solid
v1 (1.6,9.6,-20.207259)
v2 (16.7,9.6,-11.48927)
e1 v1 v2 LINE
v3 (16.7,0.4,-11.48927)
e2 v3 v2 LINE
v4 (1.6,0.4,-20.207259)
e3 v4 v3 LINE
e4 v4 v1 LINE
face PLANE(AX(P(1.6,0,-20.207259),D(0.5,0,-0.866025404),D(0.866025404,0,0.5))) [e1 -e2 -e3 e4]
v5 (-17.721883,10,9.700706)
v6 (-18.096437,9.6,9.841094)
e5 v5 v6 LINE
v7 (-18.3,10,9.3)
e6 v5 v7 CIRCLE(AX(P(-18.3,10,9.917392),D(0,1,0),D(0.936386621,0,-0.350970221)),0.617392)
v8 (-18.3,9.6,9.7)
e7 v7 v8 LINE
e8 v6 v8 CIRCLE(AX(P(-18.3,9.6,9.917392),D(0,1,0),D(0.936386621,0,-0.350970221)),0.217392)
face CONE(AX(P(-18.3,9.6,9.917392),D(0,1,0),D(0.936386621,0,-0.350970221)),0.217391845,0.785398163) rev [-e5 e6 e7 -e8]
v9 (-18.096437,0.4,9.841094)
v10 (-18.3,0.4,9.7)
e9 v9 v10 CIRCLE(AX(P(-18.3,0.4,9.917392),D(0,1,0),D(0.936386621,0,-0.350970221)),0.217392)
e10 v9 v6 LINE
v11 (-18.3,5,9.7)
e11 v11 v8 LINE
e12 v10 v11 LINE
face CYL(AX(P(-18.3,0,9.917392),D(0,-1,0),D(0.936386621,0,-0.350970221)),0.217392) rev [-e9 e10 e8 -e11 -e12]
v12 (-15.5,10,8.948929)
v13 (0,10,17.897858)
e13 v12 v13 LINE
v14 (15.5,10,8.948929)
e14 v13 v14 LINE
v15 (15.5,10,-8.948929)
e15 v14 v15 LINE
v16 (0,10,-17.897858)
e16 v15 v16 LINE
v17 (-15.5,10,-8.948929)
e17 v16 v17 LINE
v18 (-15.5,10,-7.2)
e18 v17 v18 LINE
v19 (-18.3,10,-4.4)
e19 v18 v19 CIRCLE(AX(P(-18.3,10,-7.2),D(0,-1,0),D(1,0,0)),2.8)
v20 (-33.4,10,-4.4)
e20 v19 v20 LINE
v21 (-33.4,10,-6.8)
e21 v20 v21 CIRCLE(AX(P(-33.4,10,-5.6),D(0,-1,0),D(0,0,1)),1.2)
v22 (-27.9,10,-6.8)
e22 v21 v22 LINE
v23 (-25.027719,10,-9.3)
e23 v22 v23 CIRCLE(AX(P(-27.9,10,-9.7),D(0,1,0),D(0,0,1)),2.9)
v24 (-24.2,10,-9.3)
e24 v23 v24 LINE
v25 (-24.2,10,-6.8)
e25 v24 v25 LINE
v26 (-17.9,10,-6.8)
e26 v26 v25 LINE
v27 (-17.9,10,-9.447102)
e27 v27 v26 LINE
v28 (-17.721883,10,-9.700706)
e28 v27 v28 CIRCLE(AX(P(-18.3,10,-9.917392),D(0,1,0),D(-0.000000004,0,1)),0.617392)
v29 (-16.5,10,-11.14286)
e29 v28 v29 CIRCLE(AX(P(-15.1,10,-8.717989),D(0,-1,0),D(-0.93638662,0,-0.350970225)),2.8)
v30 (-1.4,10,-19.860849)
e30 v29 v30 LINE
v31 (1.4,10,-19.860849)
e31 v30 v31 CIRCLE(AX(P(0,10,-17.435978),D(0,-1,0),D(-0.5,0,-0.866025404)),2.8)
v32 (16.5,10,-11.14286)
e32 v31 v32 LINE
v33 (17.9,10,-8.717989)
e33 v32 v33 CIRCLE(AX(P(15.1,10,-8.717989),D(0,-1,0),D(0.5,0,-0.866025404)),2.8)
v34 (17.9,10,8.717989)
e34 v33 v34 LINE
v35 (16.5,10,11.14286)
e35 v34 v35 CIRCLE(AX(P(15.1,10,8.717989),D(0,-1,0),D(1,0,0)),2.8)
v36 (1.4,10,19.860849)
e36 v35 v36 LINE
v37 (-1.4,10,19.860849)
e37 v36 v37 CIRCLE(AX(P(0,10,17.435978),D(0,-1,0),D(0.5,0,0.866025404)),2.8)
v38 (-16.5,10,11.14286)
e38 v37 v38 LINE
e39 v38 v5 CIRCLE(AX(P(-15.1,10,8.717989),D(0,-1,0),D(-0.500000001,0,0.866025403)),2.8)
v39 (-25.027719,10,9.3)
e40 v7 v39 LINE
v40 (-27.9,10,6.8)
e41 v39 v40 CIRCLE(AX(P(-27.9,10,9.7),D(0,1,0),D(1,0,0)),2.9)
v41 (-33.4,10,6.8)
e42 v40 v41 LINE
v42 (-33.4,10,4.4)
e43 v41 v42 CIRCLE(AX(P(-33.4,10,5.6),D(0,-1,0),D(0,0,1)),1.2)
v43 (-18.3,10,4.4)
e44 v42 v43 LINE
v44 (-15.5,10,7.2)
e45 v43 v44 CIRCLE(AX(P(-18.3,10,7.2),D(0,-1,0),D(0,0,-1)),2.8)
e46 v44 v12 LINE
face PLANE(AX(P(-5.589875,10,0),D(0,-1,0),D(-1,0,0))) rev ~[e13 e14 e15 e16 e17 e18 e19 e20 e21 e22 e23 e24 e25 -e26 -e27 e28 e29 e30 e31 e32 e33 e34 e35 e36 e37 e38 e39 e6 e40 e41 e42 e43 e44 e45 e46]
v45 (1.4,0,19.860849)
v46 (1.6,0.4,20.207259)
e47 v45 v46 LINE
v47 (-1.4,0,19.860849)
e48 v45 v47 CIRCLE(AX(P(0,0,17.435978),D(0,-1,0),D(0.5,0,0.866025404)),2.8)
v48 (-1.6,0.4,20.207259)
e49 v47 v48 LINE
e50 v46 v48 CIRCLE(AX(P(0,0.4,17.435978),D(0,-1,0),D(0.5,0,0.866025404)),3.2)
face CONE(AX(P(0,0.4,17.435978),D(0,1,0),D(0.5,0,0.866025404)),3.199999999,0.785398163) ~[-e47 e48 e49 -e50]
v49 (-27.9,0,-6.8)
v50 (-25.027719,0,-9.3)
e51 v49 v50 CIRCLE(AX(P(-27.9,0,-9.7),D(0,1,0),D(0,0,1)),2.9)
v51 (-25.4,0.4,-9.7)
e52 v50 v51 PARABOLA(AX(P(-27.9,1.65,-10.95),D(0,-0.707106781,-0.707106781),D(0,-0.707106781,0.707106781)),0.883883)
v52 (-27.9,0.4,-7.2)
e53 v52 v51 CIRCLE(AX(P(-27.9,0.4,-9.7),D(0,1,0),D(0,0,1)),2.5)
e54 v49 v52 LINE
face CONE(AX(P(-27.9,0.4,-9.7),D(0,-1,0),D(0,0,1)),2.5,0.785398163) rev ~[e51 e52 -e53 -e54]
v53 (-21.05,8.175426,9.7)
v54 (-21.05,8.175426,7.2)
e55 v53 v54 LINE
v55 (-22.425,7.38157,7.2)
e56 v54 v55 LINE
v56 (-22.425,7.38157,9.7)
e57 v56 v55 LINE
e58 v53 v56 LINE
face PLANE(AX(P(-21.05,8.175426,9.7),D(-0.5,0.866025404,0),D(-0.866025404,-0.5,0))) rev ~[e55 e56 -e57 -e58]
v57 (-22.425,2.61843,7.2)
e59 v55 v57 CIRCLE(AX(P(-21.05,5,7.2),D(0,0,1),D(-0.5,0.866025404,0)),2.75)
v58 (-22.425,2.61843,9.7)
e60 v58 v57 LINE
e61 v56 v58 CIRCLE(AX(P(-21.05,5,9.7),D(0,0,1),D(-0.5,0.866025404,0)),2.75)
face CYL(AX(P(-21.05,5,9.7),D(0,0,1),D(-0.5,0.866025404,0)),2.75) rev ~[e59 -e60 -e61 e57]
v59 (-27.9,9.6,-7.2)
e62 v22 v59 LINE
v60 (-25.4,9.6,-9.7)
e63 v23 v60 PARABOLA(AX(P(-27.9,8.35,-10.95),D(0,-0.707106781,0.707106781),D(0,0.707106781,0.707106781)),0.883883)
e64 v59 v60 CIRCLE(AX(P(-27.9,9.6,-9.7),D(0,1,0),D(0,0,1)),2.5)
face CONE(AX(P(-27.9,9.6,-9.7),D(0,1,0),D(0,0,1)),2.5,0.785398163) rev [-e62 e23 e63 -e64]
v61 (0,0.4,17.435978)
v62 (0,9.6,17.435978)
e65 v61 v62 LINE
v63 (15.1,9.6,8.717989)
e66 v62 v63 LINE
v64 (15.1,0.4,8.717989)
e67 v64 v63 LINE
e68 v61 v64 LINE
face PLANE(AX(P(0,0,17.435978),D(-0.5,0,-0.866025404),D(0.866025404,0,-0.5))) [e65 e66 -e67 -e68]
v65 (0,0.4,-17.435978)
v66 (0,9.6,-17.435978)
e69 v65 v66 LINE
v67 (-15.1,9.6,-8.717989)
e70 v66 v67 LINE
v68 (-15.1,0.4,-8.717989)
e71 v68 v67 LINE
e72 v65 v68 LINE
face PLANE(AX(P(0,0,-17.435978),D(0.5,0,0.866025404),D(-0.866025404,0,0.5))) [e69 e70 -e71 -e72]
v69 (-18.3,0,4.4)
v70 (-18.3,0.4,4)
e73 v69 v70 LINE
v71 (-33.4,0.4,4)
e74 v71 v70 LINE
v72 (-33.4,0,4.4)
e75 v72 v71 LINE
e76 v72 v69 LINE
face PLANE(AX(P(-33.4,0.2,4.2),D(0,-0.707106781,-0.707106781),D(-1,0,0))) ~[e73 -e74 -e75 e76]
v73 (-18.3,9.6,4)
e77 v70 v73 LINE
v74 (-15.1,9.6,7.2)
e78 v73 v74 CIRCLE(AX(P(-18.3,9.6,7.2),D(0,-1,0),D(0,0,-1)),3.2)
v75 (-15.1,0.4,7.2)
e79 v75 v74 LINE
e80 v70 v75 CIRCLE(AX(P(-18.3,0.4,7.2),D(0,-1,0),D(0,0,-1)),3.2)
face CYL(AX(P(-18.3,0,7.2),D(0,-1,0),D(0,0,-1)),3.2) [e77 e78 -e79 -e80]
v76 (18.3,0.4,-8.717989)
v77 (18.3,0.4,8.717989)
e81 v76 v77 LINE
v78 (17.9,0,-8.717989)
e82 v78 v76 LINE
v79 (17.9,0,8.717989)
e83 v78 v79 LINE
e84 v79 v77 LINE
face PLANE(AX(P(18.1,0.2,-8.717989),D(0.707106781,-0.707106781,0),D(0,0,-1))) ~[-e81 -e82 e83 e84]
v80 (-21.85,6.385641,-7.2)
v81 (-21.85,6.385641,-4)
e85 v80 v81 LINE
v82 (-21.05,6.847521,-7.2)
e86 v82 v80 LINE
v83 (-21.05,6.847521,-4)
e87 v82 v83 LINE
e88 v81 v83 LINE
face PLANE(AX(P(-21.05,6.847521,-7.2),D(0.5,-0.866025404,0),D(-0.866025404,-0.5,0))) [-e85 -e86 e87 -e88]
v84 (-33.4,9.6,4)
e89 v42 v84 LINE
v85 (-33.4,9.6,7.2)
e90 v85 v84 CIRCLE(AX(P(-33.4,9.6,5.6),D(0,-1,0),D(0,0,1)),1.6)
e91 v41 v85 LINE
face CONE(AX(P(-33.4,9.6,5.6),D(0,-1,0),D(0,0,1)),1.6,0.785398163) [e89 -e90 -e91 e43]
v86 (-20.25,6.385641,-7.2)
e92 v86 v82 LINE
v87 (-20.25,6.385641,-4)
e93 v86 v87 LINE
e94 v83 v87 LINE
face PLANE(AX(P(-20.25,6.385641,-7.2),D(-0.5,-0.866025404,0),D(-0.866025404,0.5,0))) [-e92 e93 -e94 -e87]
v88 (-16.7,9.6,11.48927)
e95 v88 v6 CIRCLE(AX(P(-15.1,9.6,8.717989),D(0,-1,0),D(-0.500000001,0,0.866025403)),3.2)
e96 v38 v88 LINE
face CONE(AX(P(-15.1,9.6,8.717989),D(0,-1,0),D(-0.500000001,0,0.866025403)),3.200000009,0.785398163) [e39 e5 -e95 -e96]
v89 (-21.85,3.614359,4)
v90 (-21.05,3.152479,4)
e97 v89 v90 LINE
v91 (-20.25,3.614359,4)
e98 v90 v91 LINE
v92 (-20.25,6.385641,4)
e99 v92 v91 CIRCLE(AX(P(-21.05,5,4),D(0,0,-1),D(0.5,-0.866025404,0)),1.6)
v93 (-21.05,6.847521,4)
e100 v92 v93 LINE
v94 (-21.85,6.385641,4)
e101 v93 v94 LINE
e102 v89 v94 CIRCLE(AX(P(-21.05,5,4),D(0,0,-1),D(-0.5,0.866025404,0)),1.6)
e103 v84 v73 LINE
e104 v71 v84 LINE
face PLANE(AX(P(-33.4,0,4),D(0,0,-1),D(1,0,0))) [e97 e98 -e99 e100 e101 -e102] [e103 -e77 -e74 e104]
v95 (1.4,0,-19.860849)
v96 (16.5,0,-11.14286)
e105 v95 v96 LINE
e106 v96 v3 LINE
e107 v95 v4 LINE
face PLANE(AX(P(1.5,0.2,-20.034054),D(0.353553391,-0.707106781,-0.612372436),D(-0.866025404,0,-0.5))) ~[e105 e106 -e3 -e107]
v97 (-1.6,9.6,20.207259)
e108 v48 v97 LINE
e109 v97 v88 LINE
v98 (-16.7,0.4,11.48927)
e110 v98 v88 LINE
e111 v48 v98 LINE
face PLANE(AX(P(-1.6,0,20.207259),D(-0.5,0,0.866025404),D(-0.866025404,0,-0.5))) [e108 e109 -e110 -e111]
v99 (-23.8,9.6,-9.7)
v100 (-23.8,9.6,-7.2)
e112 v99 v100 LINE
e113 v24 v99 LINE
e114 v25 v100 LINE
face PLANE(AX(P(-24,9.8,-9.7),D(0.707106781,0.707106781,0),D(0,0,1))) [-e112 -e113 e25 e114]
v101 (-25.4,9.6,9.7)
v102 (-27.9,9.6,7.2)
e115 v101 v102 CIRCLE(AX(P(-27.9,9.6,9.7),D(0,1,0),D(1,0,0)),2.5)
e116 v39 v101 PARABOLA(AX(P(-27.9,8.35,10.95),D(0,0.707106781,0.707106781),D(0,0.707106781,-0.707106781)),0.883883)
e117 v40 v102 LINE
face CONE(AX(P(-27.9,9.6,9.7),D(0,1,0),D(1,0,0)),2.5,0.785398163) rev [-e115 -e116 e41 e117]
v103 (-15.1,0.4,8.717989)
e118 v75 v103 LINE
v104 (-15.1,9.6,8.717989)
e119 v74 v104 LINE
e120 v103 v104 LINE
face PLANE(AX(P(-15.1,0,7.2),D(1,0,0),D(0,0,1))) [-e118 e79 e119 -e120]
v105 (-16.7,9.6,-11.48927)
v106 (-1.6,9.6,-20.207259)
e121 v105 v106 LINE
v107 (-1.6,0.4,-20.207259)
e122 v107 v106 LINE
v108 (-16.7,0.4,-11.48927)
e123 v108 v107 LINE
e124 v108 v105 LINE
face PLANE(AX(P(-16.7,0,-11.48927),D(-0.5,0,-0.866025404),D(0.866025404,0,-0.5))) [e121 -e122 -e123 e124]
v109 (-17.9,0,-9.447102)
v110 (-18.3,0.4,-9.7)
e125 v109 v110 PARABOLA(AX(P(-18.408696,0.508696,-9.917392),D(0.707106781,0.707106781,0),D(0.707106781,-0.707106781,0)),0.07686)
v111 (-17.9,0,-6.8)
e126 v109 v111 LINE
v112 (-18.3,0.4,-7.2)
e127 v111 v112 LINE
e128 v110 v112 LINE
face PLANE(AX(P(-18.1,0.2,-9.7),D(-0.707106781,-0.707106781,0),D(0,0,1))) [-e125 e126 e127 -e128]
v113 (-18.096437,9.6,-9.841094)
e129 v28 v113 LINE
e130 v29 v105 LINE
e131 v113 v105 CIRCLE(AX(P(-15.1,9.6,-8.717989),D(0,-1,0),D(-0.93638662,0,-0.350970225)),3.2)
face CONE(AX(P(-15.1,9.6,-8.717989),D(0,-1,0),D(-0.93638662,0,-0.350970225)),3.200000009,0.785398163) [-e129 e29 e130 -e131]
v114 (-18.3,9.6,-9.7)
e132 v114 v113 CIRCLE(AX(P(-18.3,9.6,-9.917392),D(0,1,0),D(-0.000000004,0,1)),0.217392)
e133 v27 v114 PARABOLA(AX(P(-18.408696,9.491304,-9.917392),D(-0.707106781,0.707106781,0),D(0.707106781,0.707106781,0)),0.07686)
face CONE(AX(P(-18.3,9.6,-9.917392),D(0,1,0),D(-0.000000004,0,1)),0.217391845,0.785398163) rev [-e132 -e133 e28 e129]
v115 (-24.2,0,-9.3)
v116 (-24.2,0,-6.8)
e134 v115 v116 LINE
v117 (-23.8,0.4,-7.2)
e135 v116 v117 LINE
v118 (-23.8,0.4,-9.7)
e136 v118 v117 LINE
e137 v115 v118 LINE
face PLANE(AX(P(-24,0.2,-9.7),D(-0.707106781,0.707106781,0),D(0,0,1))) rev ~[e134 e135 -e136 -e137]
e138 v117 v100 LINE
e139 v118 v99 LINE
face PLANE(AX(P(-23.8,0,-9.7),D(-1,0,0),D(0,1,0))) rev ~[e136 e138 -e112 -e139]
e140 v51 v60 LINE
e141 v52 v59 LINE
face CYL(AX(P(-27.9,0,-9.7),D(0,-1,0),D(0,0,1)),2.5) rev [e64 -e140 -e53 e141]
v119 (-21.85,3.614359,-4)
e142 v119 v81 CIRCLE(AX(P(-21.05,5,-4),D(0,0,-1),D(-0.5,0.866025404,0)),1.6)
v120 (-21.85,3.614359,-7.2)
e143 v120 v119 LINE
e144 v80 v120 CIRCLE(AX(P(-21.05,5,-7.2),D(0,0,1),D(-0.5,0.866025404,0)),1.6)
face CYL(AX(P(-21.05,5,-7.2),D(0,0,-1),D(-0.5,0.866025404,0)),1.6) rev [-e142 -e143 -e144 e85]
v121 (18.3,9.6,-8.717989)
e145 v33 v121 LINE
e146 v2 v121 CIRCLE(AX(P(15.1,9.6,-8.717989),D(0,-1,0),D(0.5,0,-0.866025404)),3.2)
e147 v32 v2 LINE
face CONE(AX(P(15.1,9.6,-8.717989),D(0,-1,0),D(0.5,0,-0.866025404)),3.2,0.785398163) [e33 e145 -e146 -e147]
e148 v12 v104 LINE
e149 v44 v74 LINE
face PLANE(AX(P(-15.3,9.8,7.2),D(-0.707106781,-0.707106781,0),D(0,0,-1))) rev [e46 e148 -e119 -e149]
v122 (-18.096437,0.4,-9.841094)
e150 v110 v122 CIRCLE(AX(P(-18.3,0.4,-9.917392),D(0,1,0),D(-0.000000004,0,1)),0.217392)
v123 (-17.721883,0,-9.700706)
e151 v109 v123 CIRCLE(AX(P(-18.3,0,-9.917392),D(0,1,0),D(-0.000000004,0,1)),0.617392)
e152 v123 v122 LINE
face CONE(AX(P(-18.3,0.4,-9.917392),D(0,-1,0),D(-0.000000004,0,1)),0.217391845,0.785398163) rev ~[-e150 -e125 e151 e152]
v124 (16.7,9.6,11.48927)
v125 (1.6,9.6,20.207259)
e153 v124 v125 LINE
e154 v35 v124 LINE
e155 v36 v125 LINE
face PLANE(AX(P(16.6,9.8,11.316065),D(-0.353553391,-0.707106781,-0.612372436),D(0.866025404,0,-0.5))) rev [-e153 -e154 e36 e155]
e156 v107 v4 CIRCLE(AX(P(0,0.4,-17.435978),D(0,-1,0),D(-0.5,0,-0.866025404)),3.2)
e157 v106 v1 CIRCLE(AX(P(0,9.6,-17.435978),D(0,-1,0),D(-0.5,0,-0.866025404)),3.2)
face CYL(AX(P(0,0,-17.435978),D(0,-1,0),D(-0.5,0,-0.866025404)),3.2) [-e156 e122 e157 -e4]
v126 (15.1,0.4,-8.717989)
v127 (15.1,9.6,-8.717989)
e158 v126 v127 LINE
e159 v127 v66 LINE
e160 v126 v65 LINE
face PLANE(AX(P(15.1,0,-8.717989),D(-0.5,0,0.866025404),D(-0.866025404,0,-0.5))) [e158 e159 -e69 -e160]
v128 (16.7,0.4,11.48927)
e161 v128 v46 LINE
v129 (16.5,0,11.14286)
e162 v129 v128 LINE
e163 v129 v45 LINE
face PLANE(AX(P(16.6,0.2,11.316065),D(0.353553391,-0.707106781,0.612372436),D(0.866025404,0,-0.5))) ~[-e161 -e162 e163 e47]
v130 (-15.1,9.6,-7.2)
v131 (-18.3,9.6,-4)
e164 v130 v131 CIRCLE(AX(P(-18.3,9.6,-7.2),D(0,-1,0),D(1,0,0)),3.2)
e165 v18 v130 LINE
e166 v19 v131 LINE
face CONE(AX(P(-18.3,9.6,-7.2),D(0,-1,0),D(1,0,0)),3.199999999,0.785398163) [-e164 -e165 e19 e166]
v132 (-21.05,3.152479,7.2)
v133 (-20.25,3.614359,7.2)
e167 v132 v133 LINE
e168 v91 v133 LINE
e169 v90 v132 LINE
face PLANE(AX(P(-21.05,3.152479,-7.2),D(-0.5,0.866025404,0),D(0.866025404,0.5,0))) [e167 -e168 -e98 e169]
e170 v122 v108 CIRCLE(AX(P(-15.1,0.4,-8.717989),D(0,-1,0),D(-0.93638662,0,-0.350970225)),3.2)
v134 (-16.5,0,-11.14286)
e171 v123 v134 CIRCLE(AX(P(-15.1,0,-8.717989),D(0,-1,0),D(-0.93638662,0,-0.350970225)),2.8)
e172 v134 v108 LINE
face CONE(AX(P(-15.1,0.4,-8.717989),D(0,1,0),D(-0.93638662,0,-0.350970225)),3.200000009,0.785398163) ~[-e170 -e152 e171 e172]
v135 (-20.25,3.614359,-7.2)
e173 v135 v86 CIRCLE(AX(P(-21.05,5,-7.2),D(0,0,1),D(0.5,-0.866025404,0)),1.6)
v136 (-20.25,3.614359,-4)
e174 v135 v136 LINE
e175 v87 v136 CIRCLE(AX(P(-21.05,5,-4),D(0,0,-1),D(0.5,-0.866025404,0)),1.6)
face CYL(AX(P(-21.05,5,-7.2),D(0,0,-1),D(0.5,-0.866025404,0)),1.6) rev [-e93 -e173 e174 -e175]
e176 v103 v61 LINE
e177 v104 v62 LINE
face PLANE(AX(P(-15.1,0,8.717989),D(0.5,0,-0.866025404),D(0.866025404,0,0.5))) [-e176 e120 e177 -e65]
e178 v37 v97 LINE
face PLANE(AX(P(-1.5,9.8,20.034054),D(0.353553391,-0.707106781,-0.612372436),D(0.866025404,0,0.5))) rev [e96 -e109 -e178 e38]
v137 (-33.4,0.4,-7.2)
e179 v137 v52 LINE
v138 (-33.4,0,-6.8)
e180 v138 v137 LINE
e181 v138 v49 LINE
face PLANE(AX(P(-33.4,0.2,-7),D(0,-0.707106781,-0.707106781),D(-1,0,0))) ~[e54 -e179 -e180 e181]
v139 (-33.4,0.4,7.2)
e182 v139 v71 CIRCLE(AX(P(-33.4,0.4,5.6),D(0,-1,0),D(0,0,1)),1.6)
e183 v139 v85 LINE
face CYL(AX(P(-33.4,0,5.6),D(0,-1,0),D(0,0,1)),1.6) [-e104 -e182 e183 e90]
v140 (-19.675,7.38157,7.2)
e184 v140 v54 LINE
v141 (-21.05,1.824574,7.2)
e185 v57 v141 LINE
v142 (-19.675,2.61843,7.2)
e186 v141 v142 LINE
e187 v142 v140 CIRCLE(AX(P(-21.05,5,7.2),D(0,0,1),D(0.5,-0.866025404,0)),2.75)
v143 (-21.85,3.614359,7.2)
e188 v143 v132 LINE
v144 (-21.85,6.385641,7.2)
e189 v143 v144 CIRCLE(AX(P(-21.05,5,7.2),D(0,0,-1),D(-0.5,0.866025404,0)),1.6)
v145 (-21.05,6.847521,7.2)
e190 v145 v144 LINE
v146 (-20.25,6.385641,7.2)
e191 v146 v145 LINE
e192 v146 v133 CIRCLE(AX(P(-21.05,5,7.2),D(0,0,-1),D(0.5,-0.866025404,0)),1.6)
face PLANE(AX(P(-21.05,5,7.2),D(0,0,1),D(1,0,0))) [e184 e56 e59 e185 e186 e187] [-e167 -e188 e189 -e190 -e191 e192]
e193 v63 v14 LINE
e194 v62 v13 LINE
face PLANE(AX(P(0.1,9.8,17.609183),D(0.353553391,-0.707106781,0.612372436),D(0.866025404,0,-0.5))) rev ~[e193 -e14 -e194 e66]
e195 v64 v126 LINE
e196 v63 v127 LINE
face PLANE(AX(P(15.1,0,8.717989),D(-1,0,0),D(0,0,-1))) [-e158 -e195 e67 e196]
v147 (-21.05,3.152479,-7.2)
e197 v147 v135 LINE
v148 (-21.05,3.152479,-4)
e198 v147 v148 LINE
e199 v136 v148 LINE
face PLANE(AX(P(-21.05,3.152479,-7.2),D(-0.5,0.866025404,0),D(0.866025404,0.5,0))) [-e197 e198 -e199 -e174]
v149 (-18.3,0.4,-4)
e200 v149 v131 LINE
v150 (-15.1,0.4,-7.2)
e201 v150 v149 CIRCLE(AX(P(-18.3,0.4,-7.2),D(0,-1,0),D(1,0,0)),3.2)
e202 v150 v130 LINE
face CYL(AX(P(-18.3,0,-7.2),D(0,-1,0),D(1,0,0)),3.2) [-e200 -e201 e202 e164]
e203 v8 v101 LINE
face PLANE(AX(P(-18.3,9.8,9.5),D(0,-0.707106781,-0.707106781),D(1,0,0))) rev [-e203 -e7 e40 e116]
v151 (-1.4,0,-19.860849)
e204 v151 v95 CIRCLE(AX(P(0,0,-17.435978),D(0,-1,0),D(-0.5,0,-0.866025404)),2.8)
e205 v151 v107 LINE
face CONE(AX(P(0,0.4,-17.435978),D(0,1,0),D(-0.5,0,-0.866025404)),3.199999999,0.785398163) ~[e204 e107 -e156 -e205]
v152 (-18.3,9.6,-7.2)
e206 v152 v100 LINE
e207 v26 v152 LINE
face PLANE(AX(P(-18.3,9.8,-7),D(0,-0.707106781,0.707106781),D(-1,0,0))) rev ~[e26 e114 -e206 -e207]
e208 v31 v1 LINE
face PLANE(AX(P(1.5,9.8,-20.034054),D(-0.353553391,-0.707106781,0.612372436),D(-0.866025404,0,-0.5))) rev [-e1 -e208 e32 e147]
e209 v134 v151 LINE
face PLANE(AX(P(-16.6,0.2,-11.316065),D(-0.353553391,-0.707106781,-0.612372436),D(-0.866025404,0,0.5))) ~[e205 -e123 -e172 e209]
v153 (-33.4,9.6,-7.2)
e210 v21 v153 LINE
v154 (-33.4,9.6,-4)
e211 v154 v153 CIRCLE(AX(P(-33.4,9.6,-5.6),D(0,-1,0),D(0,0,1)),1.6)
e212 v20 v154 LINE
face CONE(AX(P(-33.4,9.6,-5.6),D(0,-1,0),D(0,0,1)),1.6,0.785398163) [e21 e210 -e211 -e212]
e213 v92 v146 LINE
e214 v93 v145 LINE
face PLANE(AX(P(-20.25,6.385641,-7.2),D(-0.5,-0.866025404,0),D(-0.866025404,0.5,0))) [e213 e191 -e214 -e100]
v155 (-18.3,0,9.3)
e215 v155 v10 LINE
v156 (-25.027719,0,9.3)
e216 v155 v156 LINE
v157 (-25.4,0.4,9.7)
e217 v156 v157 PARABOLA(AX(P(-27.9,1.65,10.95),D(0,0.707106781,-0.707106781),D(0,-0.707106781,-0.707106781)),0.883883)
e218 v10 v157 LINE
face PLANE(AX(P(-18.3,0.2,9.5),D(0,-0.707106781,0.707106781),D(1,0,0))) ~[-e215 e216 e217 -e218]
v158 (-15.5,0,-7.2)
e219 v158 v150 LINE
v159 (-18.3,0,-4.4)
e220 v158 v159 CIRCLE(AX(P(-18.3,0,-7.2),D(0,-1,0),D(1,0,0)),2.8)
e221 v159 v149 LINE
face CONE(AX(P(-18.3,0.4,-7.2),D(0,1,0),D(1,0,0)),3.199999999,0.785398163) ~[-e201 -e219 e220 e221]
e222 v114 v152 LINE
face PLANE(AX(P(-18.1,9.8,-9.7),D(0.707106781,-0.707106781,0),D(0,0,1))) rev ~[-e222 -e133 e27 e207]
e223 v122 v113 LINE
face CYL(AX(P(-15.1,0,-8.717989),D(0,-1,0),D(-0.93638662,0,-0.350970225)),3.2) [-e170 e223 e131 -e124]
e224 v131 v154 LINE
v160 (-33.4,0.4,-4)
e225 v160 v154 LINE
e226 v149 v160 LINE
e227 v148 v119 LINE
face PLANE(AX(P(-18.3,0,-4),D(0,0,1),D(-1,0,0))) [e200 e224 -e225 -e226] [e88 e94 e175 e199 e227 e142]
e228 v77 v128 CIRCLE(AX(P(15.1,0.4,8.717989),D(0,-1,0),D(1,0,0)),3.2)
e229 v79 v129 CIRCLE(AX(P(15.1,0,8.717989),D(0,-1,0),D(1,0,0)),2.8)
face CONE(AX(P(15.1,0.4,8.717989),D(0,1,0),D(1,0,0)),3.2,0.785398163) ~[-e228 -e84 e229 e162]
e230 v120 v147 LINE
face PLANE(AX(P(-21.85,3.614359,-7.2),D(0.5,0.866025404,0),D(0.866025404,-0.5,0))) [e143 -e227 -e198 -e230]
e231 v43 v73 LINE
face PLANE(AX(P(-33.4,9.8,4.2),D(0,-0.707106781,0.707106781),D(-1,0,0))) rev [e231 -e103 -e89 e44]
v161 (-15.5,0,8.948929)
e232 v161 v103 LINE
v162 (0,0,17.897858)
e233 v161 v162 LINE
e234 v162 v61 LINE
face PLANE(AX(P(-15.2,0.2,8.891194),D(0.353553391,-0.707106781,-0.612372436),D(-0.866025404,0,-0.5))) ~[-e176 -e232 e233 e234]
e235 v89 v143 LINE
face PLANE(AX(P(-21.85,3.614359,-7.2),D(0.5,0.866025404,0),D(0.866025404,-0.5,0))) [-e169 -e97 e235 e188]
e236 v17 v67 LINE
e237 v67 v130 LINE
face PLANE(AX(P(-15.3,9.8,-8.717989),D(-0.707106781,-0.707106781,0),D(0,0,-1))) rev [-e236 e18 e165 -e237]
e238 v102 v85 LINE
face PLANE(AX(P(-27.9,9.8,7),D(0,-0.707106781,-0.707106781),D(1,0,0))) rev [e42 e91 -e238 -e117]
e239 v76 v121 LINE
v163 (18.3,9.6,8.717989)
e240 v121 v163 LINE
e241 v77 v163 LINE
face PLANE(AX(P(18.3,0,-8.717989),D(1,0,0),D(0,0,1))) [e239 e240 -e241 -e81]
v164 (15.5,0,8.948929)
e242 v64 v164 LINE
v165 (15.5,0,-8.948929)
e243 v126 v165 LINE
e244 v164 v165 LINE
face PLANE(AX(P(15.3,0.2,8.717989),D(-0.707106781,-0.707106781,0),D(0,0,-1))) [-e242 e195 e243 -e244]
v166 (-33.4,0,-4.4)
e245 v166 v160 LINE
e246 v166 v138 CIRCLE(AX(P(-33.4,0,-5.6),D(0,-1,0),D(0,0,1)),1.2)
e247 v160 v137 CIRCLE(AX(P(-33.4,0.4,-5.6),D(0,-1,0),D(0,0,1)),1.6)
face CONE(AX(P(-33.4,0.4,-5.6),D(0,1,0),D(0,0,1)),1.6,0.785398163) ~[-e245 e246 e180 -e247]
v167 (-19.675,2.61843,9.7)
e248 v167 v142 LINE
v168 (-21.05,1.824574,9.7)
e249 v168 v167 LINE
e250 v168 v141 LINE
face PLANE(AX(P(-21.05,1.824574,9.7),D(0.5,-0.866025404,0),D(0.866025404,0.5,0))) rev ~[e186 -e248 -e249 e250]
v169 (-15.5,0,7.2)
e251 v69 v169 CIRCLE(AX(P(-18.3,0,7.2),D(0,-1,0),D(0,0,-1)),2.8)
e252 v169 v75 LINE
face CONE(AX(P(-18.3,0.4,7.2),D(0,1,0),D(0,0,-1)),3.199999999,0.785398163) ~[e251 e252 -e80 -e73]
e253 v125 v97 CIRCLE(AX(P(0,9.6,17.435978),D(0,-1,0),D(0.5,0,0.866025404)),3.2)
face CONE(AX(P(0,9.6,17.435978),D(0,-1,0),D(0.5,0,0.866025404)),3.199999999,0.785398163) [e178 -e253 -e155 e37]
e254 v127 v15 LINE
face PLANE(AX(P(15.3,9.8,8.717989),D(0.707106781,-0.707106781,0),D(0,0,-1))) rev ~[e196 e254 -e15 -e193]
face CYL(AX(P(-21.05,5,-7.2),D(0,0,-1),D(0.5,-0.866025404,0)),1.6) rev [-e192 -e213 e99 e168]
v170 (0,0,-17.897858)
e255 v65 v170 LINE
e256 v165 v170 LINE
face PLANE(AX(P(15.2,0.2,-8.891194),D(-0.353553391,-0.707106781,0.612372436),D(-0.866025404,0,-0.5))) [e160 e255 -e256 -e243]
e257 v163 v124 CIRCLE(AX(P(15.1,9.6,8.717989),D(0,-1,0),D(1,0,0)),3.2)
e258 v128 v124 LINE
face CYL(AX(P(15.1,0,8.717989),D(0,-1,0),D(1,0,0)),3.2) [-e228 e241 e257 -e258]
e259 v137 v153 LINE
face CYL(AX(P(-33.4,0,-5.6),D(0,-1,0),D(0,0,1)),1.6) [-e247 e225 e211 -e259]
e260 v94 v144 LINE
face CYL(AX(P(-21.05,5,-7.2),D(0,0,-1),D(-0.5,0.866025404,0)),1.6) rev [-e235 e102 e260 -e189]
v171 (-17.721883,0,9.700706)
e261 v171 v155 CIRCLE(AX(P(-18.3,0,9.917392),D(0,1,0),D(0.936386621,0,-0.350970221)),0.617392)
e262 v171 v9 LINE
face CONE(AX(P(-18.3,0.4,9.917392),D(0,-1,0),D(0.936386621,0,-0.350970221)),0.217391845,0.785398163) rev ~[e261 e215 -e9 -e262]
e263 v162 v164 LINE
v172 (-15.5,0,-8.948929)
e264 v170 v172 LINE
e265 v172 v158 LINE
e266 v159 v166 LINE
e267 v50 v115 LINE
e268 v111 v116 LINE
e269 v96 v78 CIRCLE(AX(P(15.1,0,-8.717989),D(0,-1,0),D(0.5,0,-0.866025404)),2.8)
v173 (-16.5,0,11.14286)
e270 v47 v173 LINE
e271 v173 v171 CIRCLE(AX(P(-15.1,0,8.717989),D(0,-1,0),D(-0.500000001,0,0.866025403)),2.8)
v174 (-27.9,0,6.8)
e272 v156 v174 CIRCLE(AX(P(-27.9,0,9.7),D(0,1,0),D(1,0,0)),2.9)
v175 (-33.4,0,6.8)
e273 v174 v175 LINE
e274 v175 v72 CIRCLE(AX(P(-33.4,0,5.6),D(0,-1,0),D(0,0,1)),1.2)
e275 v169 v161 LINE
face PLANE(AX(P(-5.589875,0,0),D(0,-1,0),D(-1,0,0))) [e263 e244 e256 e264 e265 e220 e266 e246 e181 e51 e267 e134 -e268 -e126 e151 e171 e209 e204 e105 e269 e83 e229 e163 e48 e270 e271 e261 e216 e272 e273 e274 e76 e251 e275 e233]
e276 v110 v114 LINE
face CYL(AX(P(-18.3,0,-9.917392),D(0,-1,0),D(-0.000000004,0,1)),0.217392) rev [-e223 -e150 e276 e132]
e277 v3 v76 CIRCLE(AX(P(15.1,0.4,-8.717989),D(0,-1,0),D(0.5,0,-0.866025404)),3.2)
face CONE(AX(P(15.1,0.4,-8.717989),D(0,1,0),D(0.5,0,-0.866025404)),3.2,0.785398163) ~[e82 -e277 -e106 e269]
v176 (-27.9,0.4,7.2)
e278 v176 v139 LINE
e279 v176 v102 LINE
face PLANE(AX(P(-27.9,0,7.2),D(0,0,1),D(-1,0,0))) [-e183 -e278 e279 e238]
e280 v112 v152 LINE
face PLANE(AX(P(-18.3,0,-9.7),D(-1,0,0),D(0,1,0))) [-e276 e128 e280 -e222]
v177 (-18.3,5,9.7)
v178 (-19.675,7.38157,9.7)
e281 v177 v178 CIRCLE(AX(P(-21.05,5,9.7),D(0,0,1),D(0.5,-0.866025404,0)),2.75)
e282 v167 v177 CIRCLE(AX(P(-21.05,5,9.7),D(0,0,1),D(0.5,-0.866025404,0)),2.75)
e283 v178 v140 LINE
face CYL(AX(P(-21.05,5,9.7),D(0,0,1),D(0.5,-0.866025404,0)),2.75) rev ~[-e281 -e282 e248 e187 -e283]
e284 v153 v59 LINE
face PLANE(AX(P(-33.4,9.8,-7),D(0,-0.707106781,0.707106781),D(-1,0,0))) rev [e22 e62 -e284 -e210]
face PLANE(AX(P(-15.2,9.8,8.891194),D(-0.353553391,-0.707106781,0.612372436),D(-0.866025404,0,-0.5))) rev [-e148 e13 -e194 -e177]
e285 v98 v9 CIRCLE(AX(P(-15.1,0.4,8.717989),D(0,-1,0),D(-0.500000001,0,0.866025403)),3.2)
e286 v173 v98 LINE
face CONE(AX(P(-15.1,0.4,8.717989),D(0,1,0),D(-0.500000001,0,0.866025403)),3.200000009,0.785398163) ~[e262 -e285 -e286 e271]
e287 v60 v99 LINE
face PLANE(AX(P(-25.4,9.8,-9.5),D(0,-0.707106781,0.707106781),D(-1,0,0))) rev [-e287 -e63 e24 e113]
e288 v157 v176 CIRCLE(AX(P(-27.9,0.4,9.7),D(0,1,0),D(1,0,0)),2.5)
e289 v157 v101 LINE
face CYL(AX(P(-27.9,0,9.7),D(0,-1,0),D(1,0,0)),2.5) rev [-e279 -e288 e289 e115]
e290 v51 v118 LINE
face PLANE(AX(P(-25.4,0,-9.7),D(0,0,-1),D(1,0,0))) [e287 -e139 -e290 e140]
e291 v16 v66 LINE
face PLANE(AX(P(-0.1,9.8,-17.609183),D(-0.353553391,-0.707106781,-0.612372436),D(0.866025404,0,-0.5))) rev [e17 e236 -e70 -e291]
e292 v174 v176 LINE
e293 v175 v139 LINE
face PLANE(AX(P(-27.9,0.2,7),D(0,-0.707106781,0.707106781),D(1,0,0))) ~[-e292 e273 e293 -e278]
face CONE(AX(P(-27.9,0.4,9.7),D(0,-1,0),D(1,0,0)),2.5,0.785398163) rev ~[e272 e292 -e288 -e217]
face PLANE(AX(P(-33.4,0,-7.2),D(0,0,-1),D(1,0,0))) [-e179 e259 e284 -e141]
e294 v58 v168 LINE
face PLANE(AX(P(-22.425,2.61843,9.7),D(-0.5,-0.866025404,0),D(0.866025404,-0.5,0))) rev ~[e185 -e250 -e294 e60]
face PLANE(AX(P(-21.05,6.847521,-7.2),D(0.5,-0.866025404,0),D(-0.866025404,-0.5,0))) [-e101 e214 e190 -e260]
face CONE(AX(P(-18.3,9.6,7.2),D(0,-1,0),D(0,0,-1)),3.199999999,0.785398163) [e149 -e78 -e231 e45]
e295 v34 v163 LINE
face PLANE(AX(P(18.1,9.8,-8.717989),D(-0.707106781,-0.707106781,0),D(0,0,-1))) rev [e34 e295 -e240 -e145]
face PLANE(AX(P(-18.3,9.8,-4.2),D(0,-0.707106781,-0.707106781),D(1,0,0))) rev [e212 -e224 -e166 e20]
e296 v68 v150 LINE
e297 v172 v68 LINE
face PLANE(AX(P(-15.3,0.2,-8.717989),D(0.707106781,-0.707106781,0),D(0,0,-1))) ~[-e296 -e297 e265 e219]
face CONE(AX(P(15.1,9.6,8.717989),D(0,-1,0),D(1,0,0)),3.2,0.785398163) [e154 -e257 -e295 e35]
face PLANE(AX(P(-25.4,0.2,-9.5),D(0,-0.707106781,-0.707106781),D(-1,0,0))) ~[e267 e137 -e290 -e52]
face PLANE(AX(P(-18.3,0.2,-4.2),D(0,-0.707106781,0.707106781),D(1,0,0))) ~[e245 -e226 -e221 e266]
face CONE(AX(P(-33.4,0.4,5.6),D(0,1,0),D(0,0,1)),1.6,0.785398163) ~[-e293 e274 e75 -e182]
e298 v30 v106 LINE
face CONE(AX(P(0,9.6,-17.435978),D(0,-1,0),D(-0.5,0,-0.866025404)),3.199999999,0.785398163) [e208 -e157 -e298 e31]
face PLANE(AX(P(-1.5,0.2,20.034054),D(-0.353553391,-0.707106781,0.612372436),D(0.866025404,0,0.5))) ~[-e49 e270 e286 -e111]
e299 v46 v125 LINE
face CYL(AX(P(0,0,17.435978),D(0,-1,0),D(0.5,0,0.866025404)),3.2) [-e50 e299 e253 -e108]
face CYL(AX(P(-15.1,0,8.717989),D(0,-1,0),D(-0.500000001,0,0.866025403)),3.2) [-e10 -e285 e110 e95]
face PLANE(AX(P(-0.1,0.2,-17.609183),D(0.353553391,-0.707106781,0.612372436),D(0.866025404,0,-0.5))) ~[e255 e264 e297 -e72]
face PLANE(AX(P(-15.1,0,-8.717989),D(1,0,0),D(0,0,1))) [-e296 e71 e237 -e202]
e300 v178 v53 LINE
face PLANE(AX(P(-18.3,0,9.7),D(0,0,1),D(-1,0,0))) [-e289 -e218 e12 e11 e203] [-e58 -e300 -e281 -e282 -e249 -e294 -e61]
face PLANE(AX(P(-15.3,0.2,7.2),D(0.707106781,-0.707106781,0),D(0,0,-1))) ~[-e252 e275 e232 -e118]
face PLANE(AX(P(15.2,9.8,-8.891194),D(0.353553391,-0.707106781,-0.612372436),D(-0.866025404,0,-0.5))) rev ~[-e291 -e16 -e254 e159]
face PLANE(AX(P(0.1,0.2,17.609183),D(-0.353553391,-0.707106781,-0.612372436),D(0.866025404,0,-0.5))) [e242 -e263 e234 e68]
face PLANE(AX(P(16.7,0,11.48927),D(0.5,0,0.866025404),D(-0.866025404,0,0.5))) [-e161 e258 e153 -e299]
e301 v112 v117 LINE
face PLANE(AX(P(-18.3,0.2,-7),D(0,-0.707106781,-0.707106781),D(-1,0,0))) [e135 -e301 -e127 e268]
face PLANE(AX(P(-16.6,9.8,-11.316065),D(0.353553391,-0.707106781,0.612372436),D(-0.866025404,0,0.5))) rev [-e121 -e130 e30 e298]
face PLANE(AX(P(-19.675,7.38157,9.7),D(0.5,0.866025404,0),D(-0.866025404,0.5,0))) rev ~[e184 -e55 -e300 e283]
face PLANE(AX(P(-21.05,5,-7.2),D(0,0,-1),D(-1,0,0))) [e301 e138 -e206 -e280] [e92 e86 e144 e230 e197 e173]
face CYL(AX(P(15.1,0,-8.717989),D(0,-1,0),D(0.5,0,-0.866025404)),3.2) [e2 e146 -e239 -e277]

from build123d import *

# Parameters (mm, degrees)
BOSS_EXTRUDE1_DEPTH = 10
SKETCH3_W           = 5.5
SKETCH3_H           = 10
CUT_EXTRUDE1_DEPTH  = 2.5
CUT_EXTRUDE2_DEPTH  = 28.83597813
CUT_EXTRUDE3_DEPTH  = 2.5
CHAMFER1_SIZE       = 0.4


with BuildPart() as part:
    # Sketch1 → Boss-Extrude1 (new body)
    with BuildSketch(Plane(origin=(0, 0, 0), x_dir=(1, 0, 0), z_dir=(0, 1, 0))):
        with BuildLine():
            Line((15.1, -8.717989065), (15.1, 8.717989065))
            Line((15.1, 8.717989065), (0, 17.43597813))
            Line((0, 17.43597813), (-15.1, 8.717989065))
            Line((-15.1, 8.717989065), (-15.1, 7.2))
            ThreePointArc((-15.1, 7.2), (-16.0372583, 4.9372583), (-18.3, 4))
            Line((-18.3, 4), (-33.4, 4))
            ThreePointArc((-33.4, 4), (-35, 5.6), (-33.4, 7.2))
            Line((-33.4, 7.2), (-27.9, 7.2))
            ThreePointArc((-27.9, 7.2), (-26.132233047, 7.932233047), (-25.4, 9.7))
            Line((-25.4, 9.7), (-18.3, 9.7))
            ThreePointArc((-18.3, 9.7), (-18.176160108, 9.73872205), (-18.096437184, 9.841093781))
            ThreePointArc((-18.096437184, 9.841093781), (-17.541501628, 10.786580324), (-16.7, 11.489270357))
            Line((-16.7, 11.489270357), (-1.6, 20.207259422))
            ThreePointArc((-1.6, 20.207259422), (0, 20.63597813), (1.6, 20.207259422))
            Line((1.6, 20.207259422), (16.7, 11.489270357))
            ThreePointArc((16.7, 11.489270357), (17.871281292, 10.317989065), (18.3, 8.717989065))
            Line((18.3, 8.717989065), (18.3, -8.717989065))
            ThreePointArc((18.3, -8.717989065), (17.871281292, -10.317989065), (16.7, -11.489270357))
            Line((16.7, -11.489270357), (1.6, -20.207259422))
            ThreePointArc((1.6, -20.207259422), (0, -20.63597813), (-1.6, -20.207259422))
            Line((-1.6, -20.207259422), (-16.7, -11.489270357))
            ThreePointArc((-16.7, -11.489270357), (-17.541501628, -10.786580324), (-18.096437184, -9.841093781))
            ThreePointArc((-18.096437184, -9.841093781), (-18.176160108, -9.73872205), (-18.3, -9.7))
            Line((-18.3, -9.7), (-25.4, -9.7))
            ThreePointArc((-25.4, -9.7), (-26.132233047, -7.932233047), (-27.9, -7.2))
            Line((-27.9, -7.2), (-33.4, -7.2))
            ThreePointArc((-33.4, -7.2), (-35, -5.6), (-33.4, -4))
            Line((-33.4, -4), (-18.3, -4))
            ThreePointArc((-18.3, -4), (-16.0372583, -4.9372583), (-15.1, -7.2))
            Line((-15.1, -7.2), (-15.1, -8.717989065))
            Line((-15.1, -8.717989065), (0, -17.43597813))
            Line((0, -17.43597813), (15.1, -8.717989065))
        make_face()
    extrude(amount=BOSS_EXTRUDE1_DEPTH)

    # Sketch3 → Cut-Extrude1 (cut)
    with BuildSketch(Plane(origin=(0, 0, -9.7), x_dir=(-1, 0, 0), z_dir=(0, 0, -1))):
        with Locations((21.05, 5)):
            Rectangle(SKETCH3_W, SKETCH3_H)
    extrude(amount=-CUT_EXTRUDE1_DEPTH, mode=Mode.SUBTRACT)

    # Sketch4 → Cut-Extrude2 (cut, through all)
    with BuildSketch(Plane(origin=(0, 0, -7.2), x_dir=(-1, 0, 0), z_dir=(0, 0, -1))):
        with BuildLine():
            Line((20.25, 6.385640646), (21.05, 6.847520861))
            Line((21.05, 6.847520861), (21.85, 6.385640646))
            ThreePointArc((21.85, 6.385640646), (22.65, 5), (21.85, 3.614359354))
            Line((21.85, 3.614359354), (21.05, 3.152479139))
            Line((21.05, 3.152479139), (20.25, 3.614359354))
            ThreePointArc((20.25, 3.614359354), (19.45, 5), (20.25, 6.385640646))
        make_face()
    extrude(amount=-CUT_EXTRUDE2_DEPTH, mode=Mode.SUBTRACT)

    # Sketch5 → Cut-Extrude3 (cut)
    with BuildSketch(Plane.XY.offset(9.7)):
        with BuildLine():
            Line((-22.425, 2.61843014), (-21.05, 1.824573519))
            Line((-21.05, 1.824573519), (-19.675, 2.61843014))
            ThreePointArc((-19.675, 2.61843014), (-18.3, 5), (-19.675, 7.38156986))
            Line((-19.675, 7.38156986), (-21.05, 8.175426481))
            Line((-21.05, 8.175426481), (-22.425, 7.38156986))
            ThreePointArc((-22.425, 7.38156986), (-23.8, 5), (-22.425, 2.61843014))
        make_face()
    extrude(amount=-CUT_EXTRUDE3_DEPTH, mode=Mode.SUBTRACT)

    # Chamfer1
    chamfer1_edges = [part.edges().sort_by_distance(p)[0] for p in [
        (-30.65, 10, -7.2),
        (-35, 10, -5.6),
        (-25.85, 10, -4),
        (-16.0372583, 10, -4.9372583),
        (-15.1, 10, -7.958994532),
        (-7.55, 10, -13.076983597),
        (7.55, 10, -13.076983597),
        (15.1, 10, 0),
        (-15.1, 10, 7.958994532),
        (-16.0372583, 10, 4.9372583),
        (-25.85, 10, 4),
        (-35, 10, 5.6),
        (-30.65, 10, 7.2),
        (15.1, 0, 0),
        (7.55, 0, -13.076983597),
        (-7.55, 0, -13.076983597),
        (-15.1, 0, -7.958994532),
        (-16.0372583, 0, -4.9372583),
        (-25.85, 0, -4),
        (-35, 0, -5.6),
        (-26.132233047, 10, 7.932233047),
        (-30.65, 0, -7.2),
        (-26.132233047, 0, -7.932233047),
        (-18.176160108, 0, -9.73872205),
        (-17.541501628, 0, -10.786580324),
        (-9.15, 0, -15.848264889),
        (0, 0, -20.63597813),
        (9.15, 0, -15.848264889),
        (17.871281292, 0, -10.317989065),
        (18.3, 0, 0),
        (-21.85, 10, 9.7),
        (17.871281292, 0, 10.317989065),
        (9.15, 0, 15.848264889),
        (0, 0, 20.63597813),
        (-9.15, 0, 15.848264889),
        (-17.541501628, 0, 10.786580324),
        (-18.176160108, 0, 9.73872205),
        (-21.85, 0, 9.7),
        (-26.132233047, 0, 7.932233047),
        (-30.65, 0, 7.2),
        (-35, 0, 5.6),
        (-18.176160108, 10, 9.73872205),
        (-25.85, 0, 4),
        (-16.0372583, 0, 4.9372583),
        (-15.1, 0, 7.958994532),
        (-7.55, 0, 13.076983597),
        (7.55, 0, 13.076983597),
        (-17.541501628, 10, 10.786580324),
        (-9.15, 10, 15.848264889),
        (7.55, 10, 13.076983597),
        (0, 10, 20.63597813),
        (9.15, 10, 15.848264889),
        (17.871281292, 10, 10.317989065),
        (18.3, 10, 0),
        (17.871281292, 10, -10.317989065),
        (9.15, 10, -15.848264889),
        (0, 10, -20.63597813),
        (-9.15, 10, -15.848264889),
        (-17.541501628, 10, -10.786580324),
        (-18.176160108, 10, -9.73872205),
        (-7.55, 10, 13.076983597),
        (-24.6, 0, -9.7),
        (-24.6, 10, -9.7),
        (-18.3, 0, -8.45),
        (-21.05, 10, -7.2),
        (-18.3, 10, -8.45),
        (-23.8, 10, -8.45),
        (-21.05, 0, -7.2),
        (-23.8, 0, -8.45),
        (-26.132233047, 10, -7.932233047),
    ]]
    chamfer(chamfer1_edges, length=CHAMFER1_SIZE)


solid = part.part
